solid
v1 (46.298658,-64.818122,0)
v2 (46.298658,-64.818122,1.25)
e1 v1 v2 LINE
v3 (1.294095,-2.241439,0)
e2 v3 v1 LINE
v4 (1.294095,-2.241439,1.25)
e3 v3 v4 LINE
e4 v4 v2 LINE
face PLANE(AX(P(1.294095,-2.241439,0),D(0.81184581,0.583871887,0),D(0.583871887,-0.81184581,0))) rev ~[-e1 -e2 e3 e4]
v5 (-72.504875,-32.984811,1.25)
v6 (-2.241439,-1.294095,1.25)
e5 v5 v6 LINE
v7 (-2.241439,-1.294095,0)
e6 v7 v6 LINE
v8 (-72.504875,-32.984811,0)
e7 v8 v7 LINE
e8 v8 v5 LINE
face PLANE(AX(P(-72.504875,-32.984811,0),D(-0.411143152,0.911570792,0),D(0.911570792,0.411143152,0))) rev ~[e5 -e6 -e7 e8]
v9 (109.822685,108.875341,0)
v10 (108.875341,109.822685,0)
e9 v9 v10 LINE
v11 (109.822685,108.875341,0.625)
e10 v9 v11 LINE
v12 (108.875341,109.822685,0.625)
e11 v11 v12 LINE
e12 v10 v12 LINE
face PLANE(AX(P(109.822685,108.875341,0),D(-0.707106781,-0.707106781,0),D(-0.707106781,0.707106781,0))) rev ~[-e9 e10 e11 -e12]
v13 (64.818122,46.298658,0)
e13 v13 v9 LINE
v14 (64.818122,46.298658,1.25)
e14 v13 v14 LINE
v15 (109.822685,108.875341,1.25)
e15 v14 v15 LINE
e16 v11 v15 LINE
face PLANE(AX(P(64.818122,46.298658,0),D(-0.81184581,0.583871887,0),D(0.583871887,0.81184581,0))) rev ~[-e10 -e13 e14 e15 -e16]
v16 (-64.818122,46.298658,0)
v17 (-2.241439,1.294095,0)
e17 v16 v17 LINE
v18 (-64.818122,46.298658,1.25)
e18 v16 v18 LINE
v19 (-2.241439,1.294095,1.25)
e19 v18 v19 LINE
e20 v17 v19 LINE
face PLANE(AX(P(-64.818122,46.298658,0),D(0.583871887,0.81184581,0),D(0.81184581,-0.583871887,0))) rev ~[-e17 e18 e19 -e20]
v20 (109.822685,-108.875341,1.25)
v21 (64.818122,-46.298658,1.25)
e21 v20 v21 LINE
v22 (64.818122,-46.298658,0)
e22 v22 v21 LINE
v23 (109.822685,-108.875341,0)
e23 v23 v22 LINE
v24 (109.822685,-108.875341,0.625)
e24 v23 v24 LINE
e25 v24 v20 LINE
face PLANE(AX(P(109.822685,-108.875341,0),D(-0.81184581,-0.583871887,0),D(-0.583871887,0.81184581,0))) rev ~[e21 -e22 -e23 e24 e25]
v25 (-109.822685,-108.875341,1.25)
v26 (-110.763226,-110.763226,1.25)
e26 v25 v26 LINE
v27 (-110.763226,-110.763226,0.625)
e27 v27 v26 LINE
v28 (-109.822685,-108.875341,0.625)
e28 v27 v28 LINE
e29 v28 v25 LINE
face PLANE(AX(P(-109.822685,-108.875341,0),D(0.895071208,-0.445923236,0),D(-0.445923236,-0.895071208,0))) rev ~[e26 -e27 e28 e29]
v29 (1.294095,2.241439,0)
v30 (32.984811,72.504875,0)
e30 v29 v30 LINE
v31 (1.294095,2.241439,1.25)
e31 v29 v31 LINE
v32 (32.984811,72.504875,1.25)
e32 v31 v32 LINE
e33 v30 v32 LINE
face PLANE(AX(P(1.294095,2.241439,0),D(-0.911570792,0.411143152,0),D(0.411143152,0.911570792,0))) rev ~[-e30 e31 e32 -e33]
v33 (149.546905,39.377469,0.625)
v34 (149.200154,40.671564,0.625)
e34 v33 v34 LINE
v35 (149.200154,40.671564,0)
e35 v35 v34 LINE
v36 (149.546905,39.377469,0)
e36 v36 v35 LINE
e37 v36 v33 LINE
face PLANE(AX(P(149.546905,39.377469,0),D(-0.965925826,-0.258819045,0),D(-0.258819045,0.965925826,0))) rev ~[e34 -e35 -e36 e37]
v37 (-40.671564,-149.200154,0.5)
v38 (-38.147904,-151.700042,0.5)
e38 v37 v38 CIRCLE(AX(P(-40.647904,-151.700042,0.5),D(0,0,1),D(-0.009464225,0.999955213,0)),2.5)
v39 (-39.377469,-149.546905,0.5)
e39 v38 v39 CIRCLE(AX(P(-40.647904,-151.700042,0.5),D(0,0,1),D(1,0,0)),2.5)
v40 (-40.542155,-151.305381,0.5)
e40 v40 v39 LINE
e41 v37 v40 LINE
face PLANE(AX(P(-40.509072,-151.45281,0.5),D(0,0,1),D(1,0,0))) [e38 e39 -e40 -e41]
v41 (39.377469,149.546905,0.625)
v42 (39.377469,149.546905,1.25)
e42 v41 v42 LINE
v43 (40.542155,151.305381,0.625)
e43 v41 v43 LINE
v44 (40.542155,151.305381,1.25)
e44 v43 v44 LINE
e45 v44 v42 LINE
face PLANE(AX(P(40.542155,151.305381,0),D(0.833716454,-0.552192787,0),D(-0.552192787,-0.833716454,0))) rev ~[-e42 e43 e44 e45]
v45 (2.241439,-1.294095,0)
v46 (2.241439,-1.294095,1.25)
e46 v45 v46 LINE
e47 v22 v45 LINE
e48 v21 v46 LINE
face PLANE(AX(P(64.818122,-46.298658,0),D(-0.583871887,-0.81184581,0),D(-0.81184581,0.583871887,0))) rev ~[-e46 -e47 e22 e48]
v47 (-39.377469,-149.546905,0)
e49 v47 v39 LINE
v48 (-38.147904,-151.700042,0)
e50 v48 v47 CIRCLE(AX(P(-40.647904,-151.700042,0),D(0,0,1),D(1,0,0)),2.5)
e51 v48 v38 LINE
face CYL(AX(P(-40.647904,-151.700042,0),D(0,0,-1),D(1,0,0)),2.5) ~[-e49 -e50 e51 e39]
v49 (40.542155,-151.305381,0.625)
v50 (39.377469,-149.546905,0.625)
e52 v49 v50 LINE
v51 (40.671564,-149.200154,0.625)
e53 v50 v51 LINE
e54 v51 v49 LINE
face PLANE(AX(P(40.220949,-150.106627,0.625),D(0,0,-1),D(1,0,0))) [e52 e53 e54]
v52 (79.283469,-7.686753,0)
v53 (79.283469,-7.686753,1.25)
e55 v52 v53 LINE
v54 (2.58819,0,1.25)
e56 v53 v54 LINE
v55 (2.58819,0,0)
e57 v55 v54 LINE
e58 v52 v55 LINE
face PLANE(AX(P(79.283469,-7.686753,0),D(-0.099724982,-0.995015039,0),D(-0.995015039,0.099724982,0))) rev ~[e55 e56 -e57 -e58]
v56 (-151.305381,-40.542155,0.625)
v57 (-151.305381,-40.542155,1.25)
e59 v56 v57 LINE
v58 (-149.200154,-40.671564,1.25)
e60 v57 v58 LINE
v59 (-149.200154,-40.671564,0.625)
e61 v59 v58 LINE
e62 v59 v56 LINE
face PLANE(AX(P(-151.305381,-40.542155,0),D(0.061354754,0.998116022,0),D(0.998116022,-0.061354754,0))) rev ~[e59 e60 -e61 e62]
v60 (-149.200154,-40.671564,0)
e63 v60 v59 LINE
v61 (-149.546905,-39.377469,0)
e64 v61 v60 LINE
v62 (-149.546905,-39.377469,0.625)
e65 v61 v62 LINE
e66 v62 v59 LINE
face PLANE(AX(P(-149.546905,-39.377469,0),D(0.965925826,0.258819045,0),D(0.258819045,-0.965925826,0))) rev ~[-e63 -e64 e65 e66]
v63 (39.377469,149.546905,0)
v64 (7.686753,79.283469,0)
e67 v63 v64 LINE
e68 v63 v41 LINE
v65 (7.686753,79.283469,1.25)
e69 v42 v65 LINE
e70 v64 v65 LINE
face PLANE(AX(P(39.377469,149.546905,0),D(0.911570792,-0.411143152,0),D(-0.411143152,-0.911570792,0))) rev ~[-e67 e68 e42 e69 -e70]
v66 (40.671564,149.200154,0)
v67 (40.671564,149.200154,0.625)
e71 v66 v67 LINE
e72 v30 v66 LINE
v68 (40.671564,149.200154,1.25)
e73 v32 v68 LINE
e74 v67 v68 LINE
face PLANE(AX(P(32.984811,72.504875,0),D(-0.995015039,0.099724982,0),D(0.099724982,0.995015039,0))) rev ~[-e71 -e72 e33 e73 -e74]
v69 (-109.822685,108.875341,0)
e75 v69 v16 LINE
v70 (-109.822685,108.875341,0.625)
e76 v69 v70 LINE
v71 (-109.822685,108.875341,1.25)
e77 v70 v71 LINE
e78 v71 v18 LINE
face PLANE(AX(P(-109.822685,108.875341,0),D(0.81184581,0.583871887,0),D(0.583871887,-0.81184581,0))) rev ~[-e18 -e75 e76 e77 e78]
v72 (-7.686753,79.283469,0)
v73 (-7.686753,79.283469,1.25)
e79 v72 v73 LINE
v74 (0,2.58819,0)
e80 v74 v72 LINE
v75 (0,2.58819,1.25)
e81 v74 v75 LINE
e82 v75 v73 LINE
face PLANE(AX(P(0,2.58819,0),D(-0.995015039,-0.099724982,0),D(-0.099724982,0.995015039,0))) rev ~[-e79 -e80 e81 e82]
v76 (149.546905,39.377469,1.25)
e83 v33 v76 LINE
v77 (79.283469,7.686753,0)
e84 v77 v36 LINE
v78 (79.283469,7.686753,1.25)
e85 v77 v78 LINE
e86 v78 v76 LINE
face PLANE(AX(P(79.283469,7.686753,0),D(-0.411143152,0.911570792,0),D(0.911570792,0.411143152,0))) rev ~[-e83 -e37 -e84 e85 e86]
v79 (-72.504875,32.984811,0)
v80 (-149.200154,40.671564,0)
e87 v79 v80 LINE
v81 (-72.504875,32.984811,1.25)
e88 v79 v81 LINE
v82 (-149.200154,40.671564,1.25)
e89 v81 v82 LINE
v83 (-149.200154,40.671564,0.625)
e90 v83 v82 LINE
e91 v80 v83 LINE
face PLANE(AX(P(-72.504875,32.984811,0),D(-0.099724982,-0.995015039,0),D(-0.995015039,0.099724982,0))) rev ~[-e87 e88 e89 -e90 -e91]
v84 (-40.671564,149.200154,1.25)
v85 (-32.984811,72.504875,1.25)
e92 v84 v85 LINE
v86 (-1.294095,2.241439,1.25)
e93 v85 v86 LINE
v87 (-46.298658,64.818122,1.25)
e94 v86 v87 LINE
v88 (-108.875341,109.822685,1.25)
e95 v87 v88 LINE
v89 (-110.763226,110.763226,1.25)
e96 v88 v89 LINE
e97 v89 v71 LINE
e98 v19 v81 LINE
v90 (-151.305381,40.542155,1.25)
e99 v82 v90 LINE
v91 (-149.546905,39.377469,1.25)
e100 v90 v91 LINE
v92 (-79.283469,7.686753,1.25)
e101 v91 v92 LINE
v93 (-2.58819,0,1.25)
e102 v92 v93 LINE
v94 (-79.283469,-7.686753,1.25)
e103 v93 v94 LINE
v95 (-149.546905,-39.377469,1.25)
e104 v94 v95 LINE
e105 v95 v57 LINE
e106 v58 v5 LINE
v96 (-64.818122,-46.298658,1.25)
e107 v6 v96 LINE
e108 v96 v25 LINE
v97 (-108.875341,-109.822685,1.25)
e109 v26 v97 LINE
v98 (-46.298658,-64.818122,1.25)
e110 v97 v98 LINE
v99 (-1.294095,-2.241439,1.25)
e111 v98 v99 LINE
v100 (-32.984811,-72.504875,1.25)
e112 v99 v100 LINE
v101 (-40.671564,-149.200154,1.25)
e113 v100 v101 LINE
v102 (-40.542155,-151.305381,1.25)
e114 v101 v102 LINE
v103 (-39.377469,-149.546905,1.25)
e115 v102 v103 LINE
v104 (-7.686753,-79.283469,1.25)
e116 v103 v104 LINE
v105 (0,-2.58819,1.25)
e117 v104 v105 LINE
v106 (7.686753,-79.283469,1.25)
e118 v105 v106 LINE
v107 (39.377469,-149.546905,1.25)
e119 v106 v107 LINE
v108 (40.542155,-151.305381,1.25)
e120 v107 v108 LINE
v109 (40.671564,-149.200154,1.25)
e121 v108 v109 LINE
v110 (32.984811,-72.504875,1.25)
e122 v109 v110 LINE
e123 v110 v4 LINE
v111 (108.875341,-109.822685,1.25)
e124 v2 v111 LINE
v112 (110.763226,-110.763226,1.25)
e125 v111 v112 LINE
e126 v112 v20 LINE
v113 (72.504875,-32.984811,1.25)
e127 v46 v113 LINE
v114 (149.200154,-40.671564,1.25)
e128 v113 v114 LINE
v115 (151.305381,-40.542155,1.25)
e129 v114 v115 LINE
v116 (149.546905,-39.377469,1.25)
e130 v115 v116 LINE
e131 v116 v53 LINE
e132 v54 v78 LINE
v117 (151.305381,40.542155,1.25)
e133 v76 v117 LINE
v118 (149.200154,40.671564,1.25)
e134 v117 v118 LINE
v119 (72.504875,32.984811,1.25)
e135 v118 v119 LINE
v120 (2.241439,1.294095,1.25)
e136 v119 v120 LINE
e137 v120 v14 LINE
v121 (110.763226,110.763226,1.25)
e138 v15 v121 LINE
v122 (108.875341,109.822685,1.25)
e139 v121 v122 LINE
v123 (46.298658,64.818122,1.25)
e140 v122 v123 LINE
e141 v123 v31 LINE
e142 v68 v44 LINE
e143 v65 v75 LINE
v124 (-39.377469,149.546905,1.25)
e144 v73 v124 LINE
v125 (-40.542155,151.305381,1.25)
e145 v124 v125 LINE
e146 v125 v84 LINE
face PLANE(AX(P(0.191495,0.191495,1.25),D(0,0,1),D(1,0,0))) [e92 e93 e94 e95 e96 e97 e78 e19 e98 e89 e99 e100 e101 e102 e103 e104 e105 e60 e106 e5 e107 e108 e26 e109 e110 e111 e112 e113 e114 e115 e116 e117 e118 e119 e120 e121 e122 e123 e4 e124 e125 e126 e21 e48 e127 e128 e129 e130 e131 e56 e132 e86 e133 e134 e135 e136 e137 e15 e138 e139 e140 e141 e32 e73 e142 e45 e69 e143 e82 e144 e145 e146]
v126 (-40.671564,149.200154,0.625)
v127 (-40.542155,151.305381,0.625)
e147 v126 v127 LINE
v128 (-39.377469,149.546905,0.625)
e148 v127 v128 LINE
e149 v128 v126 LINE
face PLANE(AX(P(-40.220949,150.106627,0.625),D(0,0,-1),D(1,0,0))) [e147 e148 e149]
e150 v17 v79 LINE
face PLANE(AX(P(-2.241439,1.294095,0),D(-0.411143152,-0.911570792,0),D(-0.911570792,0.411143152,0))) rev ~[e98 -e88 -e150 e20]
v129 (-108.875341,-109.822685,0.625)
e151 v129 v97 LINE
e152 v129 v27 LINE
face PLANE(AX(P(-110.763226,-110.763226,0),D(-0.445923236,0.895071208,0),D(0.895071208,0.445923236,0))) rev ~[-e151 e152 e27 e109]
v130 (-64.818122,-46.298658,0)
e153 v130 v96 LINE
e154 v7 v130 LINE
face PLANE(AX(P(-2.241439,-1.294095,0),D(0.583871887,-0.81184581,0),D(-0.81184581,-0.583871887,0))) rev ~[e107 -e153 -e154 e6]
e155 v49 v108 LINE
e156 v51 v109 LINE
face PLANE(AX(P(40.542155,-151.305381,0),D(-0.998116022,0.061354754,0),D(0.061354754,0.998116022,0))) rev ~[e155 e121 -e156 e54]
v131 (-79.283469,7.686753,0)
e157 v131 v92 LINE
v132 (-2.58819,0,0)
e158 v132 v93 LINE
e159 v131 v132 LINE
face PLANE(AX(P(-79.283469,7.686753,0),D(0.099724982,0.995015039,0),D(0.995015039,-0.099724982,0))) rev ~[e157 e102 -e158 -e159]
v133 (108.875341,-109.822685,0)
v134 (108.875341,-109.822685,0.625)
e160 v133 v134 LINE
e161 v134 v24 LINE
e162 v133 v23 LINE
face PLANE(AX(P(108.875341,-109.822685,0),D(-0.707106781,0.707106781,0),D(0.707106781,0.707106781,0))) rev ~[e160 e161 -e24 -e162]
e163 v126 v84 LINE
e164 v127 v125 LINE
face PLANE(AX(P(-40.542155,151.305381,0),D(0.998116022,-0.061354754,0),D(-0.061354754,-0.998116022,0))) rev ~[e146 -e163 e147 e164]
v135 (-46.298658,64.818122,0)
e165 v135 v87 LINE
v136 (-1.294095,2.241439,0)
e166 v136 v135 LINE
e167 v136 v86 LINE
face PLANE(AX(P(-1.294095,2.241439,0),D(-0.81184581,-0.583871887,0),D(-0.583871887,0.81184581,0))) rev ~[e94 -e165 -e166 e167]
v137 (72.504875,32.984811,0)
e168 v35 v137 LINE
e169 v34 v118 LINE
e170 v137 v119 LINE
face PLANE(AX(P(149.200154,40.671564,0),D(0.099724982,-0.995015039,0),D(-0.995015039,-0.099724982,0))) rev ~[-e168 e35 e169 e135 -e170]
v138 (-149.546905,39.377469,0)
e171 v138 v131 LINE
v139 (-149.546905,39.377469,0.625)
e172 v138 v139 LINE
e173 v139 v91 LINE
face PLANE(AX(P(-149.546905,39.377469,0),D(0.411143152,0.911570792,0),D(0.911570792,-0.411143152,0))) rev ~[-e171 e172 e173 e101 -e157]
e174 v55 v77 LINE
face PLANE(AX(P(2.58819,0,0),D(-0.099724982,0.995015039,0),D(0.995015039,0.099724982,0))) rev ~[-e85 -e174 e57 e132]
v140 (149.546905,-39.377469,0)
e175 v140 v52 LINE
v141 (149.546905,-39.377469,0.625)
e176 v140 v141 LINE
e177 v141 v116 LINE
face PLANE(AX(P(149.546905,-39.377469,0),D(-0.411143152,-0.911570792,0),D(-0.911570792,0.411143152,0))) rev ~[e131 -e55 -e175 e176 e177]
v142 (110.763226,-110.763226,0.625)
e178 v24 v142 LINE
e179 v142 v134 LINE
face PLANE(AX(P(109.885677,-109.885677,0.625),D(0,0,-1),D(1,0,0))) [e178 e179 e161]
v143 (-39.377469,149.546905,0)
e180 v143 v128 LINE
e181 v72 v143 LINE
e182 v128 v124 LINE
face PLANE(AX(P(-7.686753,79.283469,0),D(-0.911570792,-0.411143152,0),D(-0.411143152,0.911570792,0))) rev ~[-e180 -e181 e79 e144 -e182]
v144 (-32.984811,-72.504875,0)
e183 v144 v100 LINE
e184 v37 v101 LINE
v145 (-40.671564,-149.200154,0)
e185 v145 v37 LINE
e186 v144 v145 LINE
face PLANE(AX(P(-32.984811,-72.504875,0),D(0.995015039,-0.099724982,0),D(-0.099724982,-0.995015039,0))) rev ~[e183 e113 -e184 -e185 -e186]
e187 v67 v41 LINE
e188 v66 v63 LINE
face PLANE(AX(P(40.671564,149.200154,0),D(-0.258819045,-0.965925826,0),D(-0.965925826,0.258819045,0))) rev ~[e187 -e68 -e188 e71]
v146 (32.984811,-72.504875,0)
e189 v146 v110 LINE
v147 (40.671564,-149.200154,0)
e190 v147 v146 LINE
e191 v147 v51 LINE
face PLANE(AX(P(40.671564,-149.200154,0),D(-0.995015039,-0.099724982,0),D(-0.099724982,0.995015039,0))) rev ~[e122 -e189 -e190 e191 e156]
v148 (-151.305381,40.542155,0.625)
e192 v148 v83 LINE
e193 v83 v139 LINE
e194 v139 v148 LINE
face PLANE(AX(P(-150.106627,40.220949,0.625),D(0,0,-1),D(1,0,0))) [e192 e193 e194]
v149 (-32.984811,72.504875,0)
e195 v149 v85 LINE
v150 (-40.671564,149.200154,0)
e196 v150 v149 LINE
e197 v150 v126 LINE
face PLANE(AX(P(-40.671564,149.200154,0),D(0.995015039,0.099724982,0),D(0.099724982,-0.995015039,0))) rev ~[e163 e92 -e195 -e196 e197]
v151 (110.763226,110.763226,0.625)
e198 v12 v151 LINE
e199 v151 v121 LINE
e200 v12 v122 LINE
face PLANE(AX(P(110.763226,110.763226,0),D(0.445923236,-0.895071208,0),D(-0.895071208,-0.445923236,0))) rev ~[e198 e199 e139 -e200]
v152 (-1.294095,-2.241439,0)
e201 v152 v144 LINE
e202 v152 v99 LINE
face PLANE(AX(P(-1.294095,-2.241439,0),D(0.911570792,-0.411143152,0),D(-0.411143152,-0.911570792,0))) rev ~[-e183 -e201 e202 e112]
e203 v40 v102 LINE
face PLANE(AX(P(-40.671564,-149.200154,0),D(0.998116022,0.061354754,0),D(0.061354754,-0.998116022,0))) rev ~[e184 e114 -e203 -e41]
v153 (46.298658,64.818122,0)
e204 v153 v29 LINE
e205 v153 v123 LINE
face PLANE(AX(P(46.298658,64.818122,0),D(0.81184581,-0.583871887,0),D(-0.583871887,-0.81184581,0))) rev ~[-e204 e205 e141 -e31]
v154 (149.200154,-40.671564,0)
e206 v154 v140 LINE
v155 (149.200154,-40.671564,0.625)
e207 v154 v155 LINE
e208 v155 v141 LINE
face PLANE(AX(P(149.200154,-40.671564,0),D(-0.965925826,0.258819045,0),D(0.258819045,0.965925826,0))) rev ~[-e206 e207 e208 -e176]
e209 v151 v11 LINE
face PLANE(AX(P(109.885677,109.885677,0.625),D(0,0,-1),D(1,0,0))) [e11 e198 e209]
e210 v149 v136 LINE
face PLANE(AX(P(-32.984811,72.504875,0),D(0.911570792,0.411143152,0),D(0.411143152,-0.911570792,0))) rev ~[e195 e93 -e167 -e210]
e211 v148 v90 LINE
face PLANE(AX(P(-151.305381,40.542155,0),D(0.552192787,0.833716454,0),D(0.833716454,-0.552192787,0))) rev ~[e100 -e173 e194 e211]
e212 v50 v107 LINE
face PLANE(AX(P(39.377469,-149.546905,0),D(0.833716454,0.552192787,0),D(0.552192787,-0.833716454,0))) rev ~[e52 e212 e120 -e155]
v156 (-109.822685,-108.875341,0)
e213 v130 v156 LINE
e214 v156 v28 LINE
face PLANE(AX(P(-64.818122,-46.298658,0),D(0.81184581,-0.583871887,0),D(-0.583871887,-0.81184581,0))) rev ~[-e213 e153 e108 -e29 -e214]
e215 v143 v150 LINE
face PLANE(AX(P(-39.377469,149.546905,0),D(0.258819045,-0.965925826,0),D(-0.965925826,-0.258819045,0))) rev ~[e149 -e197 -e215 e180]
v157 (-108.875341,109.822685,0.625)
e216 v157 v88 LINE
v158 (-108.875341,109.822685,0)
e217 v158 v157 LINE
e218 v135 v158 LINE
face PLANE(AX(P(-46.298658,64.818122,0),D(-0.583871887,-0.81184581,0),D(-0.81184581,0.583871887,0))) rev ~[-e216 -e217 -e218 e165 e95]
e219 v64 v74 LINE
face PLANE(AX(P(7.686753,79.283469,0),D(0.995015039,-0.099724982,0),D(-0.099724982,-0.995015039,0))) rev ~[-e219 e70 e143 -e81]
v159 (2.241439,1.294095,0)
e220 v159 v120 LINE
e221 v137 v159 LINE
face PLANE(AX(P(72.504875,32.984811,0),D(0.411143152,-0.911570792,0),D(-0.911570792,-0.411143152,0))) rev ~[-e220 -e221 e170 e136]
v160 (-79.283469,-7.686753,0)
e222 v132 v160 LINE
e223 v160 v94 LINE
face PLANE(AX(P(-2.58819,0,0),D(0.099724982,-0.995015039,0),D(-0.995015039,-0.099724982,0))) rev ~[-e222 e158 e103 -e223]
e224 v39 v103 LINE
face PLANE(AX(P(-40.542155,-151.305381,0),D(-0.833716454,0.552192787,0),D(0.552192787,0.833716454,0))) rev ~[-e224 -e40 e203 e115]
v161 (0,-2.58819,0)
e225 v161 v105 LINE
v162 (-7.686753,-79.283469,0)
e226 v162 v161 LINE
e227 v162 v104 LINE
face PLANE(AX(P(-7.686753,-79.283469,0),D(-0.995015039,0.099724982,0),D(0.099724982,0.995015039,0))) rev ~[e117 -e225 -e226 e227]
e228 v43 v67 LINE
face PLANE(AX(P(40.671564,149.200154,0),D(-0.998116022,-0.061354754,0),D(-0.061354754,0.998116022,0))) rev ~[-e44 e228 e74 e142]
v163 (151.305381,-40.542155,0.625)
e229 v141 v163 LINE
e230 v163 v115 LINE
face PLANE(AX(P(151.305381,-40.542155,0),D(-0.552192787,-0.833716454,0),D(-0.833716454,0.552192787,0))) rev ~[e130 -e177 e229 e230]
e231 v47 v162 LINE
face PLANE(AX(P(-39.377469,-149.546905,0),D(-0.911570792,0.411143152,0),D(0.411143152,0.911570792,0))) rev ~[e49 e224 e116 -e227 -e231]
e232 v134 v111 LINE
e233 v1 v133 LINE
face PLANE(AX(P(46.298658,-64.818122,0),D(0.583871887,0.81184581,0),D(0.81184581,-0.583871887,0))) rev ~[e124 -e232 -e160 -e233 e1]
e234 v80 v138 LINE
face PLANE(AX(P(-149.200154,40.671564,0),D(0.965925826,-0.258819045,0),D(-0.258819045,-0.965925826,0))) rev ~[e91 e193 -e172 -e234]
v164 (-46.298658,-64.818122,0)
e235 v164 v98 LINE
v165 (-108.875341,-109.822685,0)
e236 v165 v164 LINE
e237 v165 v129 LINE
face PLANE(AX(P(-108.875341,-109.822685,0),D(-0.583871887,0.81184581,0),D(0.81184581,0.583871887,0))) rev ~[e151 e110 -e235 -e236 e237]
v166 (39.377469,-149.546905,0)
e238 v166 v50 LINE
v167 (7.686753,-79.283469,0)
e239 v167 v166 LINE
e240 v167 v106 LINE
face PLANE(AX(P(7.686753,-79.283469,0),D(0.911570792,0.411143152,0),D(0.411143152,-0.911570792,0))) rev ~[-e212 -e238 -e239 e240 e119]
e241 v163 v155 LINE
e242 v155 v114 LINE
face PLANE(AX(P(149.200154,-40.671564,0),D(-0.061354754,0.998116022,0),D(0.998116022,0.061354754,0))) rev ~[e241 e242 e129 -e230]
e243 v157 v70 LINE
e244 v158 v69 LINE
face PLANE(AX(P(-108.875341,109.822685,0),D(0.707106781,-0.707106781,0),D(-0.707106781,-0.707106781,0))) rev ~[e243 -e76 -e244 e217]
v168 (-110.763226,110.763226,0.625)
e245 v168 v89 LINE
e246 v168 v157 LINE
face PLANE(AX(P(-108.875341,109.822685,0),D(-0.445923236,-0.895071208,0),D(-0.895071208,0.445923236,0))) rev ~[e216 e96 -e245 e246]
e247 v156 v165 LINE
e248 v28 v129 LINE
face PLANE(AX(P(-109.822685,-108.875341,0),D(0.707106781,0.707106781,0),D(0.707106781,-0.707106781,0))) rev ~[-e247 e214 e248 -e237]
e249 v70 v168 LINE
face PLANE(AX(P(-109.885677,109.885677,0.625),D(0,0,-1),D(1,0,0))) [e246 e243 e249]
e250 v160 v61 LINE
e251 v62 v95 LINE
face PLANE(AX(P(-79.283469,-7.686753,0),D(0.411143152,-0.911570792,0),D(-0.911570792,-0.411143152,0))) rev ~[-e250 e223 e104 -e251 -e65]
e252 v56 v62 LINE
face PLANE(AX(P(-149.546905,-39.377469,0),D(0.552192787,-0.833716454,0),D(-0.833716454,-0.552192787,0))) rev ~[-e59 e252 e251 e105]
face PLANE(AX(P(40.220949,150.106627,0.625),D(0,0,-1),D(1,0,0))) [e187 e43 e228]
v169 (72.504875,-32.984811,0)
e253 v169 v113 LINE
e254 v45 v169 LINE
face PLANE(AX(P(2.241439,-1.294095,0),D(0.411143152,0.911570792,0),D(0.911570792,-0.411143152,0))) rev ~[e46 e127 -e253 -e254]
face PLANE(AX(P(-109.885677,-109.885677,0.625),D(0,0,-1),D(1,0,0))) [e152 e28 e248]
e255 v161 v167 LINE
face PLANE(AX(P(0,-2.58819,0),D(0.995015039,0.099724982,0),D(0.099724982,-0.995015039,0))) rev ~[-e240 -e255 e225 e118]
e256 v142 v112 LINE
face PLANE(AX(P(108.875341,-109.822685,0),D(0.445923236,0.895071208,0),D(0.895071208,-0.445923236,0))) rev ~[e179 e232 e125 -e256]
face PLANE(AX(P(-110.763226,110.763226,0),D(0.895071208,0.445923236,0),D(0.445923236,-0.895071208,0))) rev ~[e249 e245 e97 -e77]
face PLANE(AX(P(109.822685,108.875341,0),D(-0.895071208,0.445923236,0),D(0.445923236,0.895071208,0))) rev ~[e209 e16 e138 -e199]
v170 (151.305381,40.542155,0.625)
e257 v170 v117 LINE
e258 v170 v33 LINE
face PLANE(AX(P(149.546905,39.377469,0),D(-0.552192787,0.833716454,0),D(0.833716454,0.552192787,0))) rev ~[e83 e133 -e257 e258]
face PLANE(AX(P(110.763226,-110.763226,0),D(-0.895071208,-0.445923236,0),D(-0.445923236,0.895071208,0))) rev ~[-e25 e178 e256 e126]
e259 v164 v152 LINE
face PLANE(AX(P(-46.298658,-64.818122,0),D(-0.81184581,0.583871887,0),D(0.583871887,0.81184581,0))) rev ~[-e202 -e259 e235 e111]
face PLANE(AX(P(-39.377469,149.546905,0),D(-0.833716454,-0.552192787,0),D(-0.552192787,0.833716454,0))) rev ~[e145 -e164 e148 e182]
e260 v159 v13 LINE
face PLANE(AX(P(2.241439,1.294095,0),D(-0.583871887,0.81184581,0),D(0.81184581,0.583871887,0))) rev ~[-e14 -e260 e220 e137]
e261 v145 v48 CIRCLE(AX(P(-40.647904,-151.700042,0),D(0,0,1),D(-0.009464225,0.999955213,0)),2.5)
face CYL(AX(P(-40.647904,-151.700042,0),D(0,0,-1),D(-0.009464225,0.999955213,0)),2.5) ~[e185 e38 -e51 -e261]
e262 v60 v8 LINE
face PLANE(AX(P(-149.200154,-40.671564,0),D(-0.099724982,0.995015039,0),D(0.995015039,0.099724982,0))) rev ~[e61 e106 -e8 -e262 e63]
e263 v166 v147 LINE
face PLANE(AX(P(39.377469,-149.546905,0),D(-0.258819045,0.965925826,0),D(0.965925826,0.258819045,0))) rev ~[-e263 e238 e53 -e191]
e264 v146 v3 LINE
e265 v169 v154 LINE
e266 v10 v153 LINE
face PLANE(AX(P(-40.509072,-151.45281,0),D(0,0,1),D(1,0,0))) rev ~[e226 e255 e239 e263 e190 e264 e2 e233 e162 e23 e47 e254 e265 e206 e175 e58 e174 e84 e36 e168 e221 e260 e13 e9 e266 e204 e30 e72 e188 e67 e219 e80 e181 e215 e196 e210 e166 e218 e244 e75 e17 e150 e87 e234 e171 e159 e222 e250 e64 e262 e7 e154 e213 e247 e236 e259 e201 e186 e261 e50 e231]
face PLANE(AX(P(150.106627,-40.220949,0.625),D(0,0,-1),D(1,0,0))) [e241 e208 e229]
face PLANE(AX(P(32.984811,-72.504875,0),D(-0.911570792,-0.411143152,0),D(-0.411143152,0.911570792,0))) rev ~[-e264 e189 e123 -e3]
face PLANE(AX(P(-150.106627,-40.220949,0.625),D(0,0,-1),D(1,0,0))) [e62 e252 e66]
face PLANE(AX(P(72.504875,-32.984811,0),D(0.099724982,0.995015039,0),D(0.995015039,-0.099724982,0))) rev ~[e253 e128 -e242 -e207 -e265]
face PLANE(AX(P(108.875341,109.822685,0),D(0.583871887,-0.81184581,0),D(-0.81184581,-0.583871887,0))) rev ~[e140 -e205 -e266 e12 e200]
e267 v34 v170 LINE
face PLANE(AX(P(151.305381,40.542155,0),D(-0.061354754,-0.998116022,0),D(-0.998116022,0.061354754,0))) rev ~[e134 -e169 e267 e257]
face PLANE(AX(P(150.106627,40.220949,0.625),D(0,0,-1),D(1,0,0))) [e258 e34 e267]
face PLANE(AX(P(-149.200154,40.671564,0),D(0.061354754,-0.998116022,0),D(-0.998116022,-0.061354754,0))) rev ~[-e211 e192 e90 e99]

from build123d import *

# Parameters (mm, degrees)
F0_DEPTH = 1.25
F4_DEPTH = 0.5
F1_DEPTH = 0.625


with BuildPart() as f0:
    # F2 (on Top) → F0 (new body)
    with BuildSketch(Plane.XY):
        with BuildLine():
            ThreePointArc((2.2414386804, -1.2940952255), (2.5, -0.6698729811), (2.588190451, 0))
            ThreePointArc((2.588190451, 0), (2.5, 0.6698729811), (2.2414386804, 1.2940952255))
            ThreePointArc((2.2414386804, 1.2940952255), (1.8301270189, 1.8301270189), (1.2940952255, 2.2414386804))
            ThreePointArc((1.2940952255, 2.2414386804), (0.6698729811, 2.5), (0, 2.588190451))
            ThreePointArc((0, 2.588190451), (-0.6698729811, 2.5), (-1.2940952255, 2.2414386804))
            ThreePointArc((-1.2940952255, 2.2414386804), (-1.8301270189, 1.8301270189), (-2.2414386804, 1.2940952255))
            ThreePointArc((-2.2414386804, 1.2940952255), (-2.5, 0.6698729811), (-2.588190451, 0))
            Line((-2.588190451, 0), (0, 0))
            Line((0, 0), (0, -2.588190451))
            ThreePointArc((0, -2.588190451), (0.6698729811, -2.5), (1.2940952255, -2.2414386804))
            ThreePointArc((1.2940952255, -2.2414386804), (1.8301270189, -1.8301270189), (2.2414386804, -1.2940952255))
        make_face()
        with BuildLine():
            Line((79.283469064, -7.6867534323), (2.588190451, 0))
            ThreePointArc((2.588190451, 0), (2.5, -0.6698729811), (2.2414386804, -1.2940952255))
            Line((2.2414386804, -1.2940952255), (72.5048750257, -32.984810787))
            Line((72.5048750257, -32.984810787), (149.2001536387, -40.6715642193))
            Line((149.2001536387, -40.6715642193), (151.3053811766, -40.5421546968))
            Line((151.3053811766, -40.5421546968), (149.5469054093, -39.3774689938))
            Line((149.5469054093, -39.3774689938), (79.283469064, -7.6867534323))
        make_face()
        with BuildLine():
            ThreePointArc((2.2414386804, 1.2940952255), (2.5, 0.6698729811), (2.588190451, 0))
            Line((2.588190451, 0), (79.283469064, 7.6867534323))
            Line((79.283469064, 7.6867534323), (149.5469054093, 39.3774689938))
            Line((149.5469054093, 39.3774689938), (151.3053811766, 40.5421546968))
            Line((151.3053811766, 40.5421546968), (149.2001536387, 40.6715642193))
            Line((149.2001536387, 40.6715642193), (72.5048750257, 32.984810787))
            Line((72.5048750257, 32.984810787), (2.2414386804, 1.2940952255))
        make_face()
        with BuildLine():
            ThreePointArc((1.2940952255, 2.2414386804), (1.8301270189, 1.8301270189), (2.2414386804, 1.2940952255))
            Line((2.2414386804, 1.2940952255), (64.8181215934, 46.298658277))
            Line((64.8181215934, 46.298658277), (109.8226846449, 108.87534119))
            Line((109.8226846449, 108.87534119), (110.7632264798, 110.7632264798))
            Line((110.7632264798, 110.7632264798), (108.87534119, 109.8226846449))
            Line((108.87534119, 109.8226846449), (46.298658277, 64.8181215934))
            Line((46.298658277, 64.8181215934), (1.2940952255, 2.2414386804))
        make_face()
        with BuildLine():
            Line((64.8181215934, -46.298658277), (2.2414386804, -1.2940952255))
            ThreePointArc((2.2414386804, -1.2940952255), (1.8301270189, -1.8301270189), (1.2940952255, -2.2414386804))
            Line((1.2940952255, -2.2414386804), (46.298658277, -64.8181215934))
            Line((46.298658277, -64.8181215934), (108.87534119, -109.8226846449))
            Line((108.87534119, -109.8226846449), (110.7632264798, -110.7632264798))
            Line((110.7632264798, -110.7632264798), (109.8226846449, -108.87534119))
            Line((109.8226846449, -108.87534119), (64.8181215934, -46.298658277))
        make_face()
        with BuildLine():
            ThreePointArc((0, 2.588190451), (0.6698729811, 2.5), (1.2940952255, 2.2414386804))
            Line((1.2940952255, 2.2414386804), (32.984810787, 72.5048750257))
            Line((32.984810787, 72.5048750257), (40.6715642193, 149.2001536387))
            Line((40.6715642193, 149.2001536387), (40.5421546968, 151.3053811766))
            Line((40.5421546968, 151.3053811766), (39.3774689938, 149.5469054093))
            Line((39.3774689938, 149.5469054093), (7.6867534323, 79.283469064))
            Line((7.6867534323, 79.283469064), (0, 2.588190451))
        make_face()
        with BuildLine():
            Line((32.984810787, -72.5048750257), (1.2940952255, -2.2414386804))
            ThreePointArc((1.2940952255, -2.2414386804), (0.6698729811, -2.5), (0, -2.588190451))
            Line((0, -2.588190451), (7.6867534323, -79.283469064))
            Line((7.6867534323, -79.283469064), (39.3774689938, -149.5469054093))
            Line((39.3774689938, -149.5469054093), (40.5421546968, -151.3053811766))
            Line((40.5421546968, -151.3053811766), (40.6715642193, -149.2001536387))
            Line((40.6715642193, -149.2001536387), (32.984810787, -72.5048750257))
        make_face()
        with BuildLine():
            ThreePointArc((-1.2940952255, 2.2414386804), (-0.6698729811, 2.5), (0, 2.588190451))
            Line((0, 2.588190451), (-7.6867534323, 79.283469064))
            Line((-7.6867534323, 79.283469064), (-39.3774689938, 149.5469054093))
            Line((-39.3774689938, 149.5469054093), (-40.5421546968, 151.3053811766))
            Line((-40.5421546968, 151.3053811766), (-40.6715642193, 149.2001536387))
            Line((-40.6715642193, 149.2001536387), (-32.984810787, 72.5048750257))
            Line((-32.984810787, 72.5048750257), (-1.2940952255, 2.2414386804))
        make_face()
        with BuildLine():
            Line((-7.6867534323, -79.283469064), (0, -2.588190451))
            ThreePointArc((0, -2.588190451), (-0.6698729811, -2.5), (-1.2940952255, -2.2414386804))
            Line((-1.2940952255, -2.2414386804), (-32.984810787, -72.5048750257))
            Line((-32.984810787, -72.5048750257), (-40.6715642193, -149.2001536387))
            Line((-40.6715642193, -149.2001536387), (-40.5421546968, -151.3053811766))
            Line((-40.5421546968, -151.3053811766), (-39.3774689938, -149.5469054093))
            Line((-39.3774689938, -149.5469054093), (-7.6867534323, -79.283469064))
        make_face()
        Polygon((-1.2940952255, -2.2414386804), (0, -2.588190451), (0, 0), align=None)
        with BuildLine():
            ThreePointArc((-1.2940952255, -2.2414386804), (-0.6698729811, -2.5), (0, -2.588190451))
            Line((0, -2.588190451), (-1.2940952255, -2.2414386804))
        make_face()
        with BuildLine():
            ThreePointArc((-2.2414386804, 1.2940952255), (-1.8301270189, 1.8301270189), (-1.2940952255, 2.2414386804))
            Line((-1.2940952255, 2.2414386804), (-46.298658277, 64.8181215934))
            Line((-46.298658277, 64.8181215934), (-108.87534119, 109.8226846449))
            Line((-108.87534119, 109.8226846449), (-110.7632264798, 110.7632264798))
            Line((-110.7632264798, 110.7632264798), (-109.8226846449, 108.87534119))
            Line((-109.8226846449, 108.87534119), (-64.8181215934, 46.298658277))
            Line((-64.8181215934, 46.298658277), (-2.2414386804, 1.2940952255))
        make_face()
        with BuildLine():
            Line((-46.298658277, -64.8181215934), (-1.2940952255, -2.2414386804))
            ThreePointArc((-1.2940952255, -2.2414386804), (-1.8301270189, -1.8301270189), (-2.2414386804, -1.2940952255))
            Line((-2.2414386804, -1.2940952255), (-64.8181215934, -46.298658277))
            Line((-64.8181215934, -46.298658277), (-109.8226846449, -108.87534119))
            Line((-109.8226846449, -108.87534119), (-110.7632264798, -110.7632264798))
            Line((-110.7632264798, -110.7632264798), (-108.87534119, -109.8226846449))
            Line((-108.87534119, -109.8226846449), (-46.298658277, -64.8181215934))
        make_face()
        Polygon((-2.2414386804, -1.2940952255), (-1.2940952255, -2.2414386804), (0, 0), align=None)
        with BuildLine():
            ThreePointArc((-2.2414386804, -1.2940952255), (-1.8301270189, -1.8301270189), (-1.2940952255, -2.2414386804))
            Line((-1.2940952255, -2.2414386804), (-2.2414386804, -1.2940952255))
        make_face()
        Polygon((-2.2414386804, -1.2940952255), (0, 0), (-2.588190451, 0), align=None)
        with BuildLine():
            ThreePointArc((-2.588190451, 0), (-2.5, 0.6698729811), (-2.2414386804, 1.2940952255))
            Line((-2.2414386804, 1.2940952255), (-72.5048750257, 32.984810787))
            Line((-72.5048750257, 32.984810787), (-149.2001536387, 40.6715642193))
            Line((-149.2001536387, 40.6715642193), (-151.3053811766, 40.5421546968))
            Line((-151.3053811766, 40.5421546968), (-149.5469054093, 39.3774689938))
            Line((-149.5469054093, 39.3774689938), (-79.283469064, 7.6867534323))
            Line((-79.283469064, 7.6867534323), (-2.588190451, 0))
        make_face()
        with BuildLine():
            Line((-72.5048750257, -32.984810787), (-2.2414386804, -1.2940952255))
            ThreePointArc((-2.2414386804, -1.2940952255), (-2.5, -0.6698729811), (-2.588190451, 0))
            Line((-2.588190451, 0), (-79.283469064, -7.6867534323))
            Line((-79.283469064, -7.6867534323), (-149.5469054093, -39.3774689938))
            Line((-149.5469054093, -39.3774689938), (-151.3053811766, -40.5421546968))
            Line((-151.3053811766, -40.5421546968), (-149.2001536387, -40.6715642193))
            Line((-149.2001536387, -40.6715642193), (-72.5048750257, -32.984810787))
        make_face()
        with BuildLine():
            ThreePointArc((-2.588190451, 0), (-2.5, -0.6698729811), (-2.2414386804, -1.2940952255))
            Line((-2.2414386804, -1.2940952255), (-2.588190451, 0))
        make_face()
    extrude(amount=F0_DEPTH)

    # F3 (on face) → F4 (join)
    with BuildSketch(Plane.XY):
        with BuildLine():
            ThreePointArc((-40.6715642193, -149.2001536387), (-42.407285452, -153.4761541969), (-38.1479036577, -151.7000416718))
            ThreePointArc((-38.1479036577, -151.7000416718), (-38.4769491833, -150.4603011061), (-39.3774689938, -149.5469054093))
            Line((-39.3774689938, -149.5469054093), (-40.5421546968, -151.3053811766))
            Line((-40.5421546968, -151.3053811766), (-40.6715642193, -149.2001536387))
        make_face()
        with BuildLine():
            Line((-40.5421546968, -151.3053811766), (-39.3774689938, -149.5469054093))
            ThreePointArc((-39.3774689938, -149.5469054093), (-40.000856045, -149.2852271061), (-40.6715642193, -149.2001536387))
            Line((-40.6715642193, -149.2001536387), (-40.5421546968, -151.3053811766))
        make_face()
    extrude(amount=F4_DEPTH)

    # F5 (on face) → F1 (cut)
    with BuildSketch(Plane(origin=(0, 0, 0), x_dir=(1, 0, 0), z_dir=(0, 0, -1))):
        Polygon((40.6715642193, 149.2001536387), (40.5421546968, 151.3053811766), (39.3774689938, 149.5469054093), align=None)
        Polygon((109.8226846449, 108.87534119), (110.7632264798, 110.7632264798), (108.87534119, 109.8226846449), align=None)
        Polygon((151.3053811766, 40.5421546968), (149.2001536387, 40.6715642193), (149.5469054093, 39.3774689938), align=None)
        Polygon((149.5469054093, -39.3774689938), (149.2001536387, -40.6715642193), (151.3053811766, -40.5421546968), align=None)
        Polygon((109.8226846449, -108.87534119), (108.87534119, -109.8226846449), (110.7632264798, -110.7632264798), align=None)
        Polygon((40.5421546968, -151.3053811766), (40.6715642193, -149.2001536387), (39.3774689938, -149.5469054093), align=None)
        Polygon((-40.5421546968, -151.3053811766), (-39.3774689938, -149.5469054093), (-40.6715642193, -149.2001536387), align=None)
        Polygon((-109.8226846449, -108.87534119), (-110.7632264798, -110.7632264798), (-108.87534119, -109.8226846449), align=None)
        Polygon((-149.2001536387, -40.6715642193), (-149.5469054093, -39.3774689938), (-151.3053811766, -40.5421546968), align=None)
        Polygon((-149.5469054093, 39.3774689938), (-149.2001536387, 40.6715642193), (-151.3053811766, 40.5421546968), align=None)
        Polygon((-109.8226846449, 108.87534119), (-108.87534119, 109.8226846449), (-110.7632264798, 110.7632264798), align=None)
    extrude(amount=-F1_DEPTH, mode=Mode.SUBTRACT)


solid = f0.part
